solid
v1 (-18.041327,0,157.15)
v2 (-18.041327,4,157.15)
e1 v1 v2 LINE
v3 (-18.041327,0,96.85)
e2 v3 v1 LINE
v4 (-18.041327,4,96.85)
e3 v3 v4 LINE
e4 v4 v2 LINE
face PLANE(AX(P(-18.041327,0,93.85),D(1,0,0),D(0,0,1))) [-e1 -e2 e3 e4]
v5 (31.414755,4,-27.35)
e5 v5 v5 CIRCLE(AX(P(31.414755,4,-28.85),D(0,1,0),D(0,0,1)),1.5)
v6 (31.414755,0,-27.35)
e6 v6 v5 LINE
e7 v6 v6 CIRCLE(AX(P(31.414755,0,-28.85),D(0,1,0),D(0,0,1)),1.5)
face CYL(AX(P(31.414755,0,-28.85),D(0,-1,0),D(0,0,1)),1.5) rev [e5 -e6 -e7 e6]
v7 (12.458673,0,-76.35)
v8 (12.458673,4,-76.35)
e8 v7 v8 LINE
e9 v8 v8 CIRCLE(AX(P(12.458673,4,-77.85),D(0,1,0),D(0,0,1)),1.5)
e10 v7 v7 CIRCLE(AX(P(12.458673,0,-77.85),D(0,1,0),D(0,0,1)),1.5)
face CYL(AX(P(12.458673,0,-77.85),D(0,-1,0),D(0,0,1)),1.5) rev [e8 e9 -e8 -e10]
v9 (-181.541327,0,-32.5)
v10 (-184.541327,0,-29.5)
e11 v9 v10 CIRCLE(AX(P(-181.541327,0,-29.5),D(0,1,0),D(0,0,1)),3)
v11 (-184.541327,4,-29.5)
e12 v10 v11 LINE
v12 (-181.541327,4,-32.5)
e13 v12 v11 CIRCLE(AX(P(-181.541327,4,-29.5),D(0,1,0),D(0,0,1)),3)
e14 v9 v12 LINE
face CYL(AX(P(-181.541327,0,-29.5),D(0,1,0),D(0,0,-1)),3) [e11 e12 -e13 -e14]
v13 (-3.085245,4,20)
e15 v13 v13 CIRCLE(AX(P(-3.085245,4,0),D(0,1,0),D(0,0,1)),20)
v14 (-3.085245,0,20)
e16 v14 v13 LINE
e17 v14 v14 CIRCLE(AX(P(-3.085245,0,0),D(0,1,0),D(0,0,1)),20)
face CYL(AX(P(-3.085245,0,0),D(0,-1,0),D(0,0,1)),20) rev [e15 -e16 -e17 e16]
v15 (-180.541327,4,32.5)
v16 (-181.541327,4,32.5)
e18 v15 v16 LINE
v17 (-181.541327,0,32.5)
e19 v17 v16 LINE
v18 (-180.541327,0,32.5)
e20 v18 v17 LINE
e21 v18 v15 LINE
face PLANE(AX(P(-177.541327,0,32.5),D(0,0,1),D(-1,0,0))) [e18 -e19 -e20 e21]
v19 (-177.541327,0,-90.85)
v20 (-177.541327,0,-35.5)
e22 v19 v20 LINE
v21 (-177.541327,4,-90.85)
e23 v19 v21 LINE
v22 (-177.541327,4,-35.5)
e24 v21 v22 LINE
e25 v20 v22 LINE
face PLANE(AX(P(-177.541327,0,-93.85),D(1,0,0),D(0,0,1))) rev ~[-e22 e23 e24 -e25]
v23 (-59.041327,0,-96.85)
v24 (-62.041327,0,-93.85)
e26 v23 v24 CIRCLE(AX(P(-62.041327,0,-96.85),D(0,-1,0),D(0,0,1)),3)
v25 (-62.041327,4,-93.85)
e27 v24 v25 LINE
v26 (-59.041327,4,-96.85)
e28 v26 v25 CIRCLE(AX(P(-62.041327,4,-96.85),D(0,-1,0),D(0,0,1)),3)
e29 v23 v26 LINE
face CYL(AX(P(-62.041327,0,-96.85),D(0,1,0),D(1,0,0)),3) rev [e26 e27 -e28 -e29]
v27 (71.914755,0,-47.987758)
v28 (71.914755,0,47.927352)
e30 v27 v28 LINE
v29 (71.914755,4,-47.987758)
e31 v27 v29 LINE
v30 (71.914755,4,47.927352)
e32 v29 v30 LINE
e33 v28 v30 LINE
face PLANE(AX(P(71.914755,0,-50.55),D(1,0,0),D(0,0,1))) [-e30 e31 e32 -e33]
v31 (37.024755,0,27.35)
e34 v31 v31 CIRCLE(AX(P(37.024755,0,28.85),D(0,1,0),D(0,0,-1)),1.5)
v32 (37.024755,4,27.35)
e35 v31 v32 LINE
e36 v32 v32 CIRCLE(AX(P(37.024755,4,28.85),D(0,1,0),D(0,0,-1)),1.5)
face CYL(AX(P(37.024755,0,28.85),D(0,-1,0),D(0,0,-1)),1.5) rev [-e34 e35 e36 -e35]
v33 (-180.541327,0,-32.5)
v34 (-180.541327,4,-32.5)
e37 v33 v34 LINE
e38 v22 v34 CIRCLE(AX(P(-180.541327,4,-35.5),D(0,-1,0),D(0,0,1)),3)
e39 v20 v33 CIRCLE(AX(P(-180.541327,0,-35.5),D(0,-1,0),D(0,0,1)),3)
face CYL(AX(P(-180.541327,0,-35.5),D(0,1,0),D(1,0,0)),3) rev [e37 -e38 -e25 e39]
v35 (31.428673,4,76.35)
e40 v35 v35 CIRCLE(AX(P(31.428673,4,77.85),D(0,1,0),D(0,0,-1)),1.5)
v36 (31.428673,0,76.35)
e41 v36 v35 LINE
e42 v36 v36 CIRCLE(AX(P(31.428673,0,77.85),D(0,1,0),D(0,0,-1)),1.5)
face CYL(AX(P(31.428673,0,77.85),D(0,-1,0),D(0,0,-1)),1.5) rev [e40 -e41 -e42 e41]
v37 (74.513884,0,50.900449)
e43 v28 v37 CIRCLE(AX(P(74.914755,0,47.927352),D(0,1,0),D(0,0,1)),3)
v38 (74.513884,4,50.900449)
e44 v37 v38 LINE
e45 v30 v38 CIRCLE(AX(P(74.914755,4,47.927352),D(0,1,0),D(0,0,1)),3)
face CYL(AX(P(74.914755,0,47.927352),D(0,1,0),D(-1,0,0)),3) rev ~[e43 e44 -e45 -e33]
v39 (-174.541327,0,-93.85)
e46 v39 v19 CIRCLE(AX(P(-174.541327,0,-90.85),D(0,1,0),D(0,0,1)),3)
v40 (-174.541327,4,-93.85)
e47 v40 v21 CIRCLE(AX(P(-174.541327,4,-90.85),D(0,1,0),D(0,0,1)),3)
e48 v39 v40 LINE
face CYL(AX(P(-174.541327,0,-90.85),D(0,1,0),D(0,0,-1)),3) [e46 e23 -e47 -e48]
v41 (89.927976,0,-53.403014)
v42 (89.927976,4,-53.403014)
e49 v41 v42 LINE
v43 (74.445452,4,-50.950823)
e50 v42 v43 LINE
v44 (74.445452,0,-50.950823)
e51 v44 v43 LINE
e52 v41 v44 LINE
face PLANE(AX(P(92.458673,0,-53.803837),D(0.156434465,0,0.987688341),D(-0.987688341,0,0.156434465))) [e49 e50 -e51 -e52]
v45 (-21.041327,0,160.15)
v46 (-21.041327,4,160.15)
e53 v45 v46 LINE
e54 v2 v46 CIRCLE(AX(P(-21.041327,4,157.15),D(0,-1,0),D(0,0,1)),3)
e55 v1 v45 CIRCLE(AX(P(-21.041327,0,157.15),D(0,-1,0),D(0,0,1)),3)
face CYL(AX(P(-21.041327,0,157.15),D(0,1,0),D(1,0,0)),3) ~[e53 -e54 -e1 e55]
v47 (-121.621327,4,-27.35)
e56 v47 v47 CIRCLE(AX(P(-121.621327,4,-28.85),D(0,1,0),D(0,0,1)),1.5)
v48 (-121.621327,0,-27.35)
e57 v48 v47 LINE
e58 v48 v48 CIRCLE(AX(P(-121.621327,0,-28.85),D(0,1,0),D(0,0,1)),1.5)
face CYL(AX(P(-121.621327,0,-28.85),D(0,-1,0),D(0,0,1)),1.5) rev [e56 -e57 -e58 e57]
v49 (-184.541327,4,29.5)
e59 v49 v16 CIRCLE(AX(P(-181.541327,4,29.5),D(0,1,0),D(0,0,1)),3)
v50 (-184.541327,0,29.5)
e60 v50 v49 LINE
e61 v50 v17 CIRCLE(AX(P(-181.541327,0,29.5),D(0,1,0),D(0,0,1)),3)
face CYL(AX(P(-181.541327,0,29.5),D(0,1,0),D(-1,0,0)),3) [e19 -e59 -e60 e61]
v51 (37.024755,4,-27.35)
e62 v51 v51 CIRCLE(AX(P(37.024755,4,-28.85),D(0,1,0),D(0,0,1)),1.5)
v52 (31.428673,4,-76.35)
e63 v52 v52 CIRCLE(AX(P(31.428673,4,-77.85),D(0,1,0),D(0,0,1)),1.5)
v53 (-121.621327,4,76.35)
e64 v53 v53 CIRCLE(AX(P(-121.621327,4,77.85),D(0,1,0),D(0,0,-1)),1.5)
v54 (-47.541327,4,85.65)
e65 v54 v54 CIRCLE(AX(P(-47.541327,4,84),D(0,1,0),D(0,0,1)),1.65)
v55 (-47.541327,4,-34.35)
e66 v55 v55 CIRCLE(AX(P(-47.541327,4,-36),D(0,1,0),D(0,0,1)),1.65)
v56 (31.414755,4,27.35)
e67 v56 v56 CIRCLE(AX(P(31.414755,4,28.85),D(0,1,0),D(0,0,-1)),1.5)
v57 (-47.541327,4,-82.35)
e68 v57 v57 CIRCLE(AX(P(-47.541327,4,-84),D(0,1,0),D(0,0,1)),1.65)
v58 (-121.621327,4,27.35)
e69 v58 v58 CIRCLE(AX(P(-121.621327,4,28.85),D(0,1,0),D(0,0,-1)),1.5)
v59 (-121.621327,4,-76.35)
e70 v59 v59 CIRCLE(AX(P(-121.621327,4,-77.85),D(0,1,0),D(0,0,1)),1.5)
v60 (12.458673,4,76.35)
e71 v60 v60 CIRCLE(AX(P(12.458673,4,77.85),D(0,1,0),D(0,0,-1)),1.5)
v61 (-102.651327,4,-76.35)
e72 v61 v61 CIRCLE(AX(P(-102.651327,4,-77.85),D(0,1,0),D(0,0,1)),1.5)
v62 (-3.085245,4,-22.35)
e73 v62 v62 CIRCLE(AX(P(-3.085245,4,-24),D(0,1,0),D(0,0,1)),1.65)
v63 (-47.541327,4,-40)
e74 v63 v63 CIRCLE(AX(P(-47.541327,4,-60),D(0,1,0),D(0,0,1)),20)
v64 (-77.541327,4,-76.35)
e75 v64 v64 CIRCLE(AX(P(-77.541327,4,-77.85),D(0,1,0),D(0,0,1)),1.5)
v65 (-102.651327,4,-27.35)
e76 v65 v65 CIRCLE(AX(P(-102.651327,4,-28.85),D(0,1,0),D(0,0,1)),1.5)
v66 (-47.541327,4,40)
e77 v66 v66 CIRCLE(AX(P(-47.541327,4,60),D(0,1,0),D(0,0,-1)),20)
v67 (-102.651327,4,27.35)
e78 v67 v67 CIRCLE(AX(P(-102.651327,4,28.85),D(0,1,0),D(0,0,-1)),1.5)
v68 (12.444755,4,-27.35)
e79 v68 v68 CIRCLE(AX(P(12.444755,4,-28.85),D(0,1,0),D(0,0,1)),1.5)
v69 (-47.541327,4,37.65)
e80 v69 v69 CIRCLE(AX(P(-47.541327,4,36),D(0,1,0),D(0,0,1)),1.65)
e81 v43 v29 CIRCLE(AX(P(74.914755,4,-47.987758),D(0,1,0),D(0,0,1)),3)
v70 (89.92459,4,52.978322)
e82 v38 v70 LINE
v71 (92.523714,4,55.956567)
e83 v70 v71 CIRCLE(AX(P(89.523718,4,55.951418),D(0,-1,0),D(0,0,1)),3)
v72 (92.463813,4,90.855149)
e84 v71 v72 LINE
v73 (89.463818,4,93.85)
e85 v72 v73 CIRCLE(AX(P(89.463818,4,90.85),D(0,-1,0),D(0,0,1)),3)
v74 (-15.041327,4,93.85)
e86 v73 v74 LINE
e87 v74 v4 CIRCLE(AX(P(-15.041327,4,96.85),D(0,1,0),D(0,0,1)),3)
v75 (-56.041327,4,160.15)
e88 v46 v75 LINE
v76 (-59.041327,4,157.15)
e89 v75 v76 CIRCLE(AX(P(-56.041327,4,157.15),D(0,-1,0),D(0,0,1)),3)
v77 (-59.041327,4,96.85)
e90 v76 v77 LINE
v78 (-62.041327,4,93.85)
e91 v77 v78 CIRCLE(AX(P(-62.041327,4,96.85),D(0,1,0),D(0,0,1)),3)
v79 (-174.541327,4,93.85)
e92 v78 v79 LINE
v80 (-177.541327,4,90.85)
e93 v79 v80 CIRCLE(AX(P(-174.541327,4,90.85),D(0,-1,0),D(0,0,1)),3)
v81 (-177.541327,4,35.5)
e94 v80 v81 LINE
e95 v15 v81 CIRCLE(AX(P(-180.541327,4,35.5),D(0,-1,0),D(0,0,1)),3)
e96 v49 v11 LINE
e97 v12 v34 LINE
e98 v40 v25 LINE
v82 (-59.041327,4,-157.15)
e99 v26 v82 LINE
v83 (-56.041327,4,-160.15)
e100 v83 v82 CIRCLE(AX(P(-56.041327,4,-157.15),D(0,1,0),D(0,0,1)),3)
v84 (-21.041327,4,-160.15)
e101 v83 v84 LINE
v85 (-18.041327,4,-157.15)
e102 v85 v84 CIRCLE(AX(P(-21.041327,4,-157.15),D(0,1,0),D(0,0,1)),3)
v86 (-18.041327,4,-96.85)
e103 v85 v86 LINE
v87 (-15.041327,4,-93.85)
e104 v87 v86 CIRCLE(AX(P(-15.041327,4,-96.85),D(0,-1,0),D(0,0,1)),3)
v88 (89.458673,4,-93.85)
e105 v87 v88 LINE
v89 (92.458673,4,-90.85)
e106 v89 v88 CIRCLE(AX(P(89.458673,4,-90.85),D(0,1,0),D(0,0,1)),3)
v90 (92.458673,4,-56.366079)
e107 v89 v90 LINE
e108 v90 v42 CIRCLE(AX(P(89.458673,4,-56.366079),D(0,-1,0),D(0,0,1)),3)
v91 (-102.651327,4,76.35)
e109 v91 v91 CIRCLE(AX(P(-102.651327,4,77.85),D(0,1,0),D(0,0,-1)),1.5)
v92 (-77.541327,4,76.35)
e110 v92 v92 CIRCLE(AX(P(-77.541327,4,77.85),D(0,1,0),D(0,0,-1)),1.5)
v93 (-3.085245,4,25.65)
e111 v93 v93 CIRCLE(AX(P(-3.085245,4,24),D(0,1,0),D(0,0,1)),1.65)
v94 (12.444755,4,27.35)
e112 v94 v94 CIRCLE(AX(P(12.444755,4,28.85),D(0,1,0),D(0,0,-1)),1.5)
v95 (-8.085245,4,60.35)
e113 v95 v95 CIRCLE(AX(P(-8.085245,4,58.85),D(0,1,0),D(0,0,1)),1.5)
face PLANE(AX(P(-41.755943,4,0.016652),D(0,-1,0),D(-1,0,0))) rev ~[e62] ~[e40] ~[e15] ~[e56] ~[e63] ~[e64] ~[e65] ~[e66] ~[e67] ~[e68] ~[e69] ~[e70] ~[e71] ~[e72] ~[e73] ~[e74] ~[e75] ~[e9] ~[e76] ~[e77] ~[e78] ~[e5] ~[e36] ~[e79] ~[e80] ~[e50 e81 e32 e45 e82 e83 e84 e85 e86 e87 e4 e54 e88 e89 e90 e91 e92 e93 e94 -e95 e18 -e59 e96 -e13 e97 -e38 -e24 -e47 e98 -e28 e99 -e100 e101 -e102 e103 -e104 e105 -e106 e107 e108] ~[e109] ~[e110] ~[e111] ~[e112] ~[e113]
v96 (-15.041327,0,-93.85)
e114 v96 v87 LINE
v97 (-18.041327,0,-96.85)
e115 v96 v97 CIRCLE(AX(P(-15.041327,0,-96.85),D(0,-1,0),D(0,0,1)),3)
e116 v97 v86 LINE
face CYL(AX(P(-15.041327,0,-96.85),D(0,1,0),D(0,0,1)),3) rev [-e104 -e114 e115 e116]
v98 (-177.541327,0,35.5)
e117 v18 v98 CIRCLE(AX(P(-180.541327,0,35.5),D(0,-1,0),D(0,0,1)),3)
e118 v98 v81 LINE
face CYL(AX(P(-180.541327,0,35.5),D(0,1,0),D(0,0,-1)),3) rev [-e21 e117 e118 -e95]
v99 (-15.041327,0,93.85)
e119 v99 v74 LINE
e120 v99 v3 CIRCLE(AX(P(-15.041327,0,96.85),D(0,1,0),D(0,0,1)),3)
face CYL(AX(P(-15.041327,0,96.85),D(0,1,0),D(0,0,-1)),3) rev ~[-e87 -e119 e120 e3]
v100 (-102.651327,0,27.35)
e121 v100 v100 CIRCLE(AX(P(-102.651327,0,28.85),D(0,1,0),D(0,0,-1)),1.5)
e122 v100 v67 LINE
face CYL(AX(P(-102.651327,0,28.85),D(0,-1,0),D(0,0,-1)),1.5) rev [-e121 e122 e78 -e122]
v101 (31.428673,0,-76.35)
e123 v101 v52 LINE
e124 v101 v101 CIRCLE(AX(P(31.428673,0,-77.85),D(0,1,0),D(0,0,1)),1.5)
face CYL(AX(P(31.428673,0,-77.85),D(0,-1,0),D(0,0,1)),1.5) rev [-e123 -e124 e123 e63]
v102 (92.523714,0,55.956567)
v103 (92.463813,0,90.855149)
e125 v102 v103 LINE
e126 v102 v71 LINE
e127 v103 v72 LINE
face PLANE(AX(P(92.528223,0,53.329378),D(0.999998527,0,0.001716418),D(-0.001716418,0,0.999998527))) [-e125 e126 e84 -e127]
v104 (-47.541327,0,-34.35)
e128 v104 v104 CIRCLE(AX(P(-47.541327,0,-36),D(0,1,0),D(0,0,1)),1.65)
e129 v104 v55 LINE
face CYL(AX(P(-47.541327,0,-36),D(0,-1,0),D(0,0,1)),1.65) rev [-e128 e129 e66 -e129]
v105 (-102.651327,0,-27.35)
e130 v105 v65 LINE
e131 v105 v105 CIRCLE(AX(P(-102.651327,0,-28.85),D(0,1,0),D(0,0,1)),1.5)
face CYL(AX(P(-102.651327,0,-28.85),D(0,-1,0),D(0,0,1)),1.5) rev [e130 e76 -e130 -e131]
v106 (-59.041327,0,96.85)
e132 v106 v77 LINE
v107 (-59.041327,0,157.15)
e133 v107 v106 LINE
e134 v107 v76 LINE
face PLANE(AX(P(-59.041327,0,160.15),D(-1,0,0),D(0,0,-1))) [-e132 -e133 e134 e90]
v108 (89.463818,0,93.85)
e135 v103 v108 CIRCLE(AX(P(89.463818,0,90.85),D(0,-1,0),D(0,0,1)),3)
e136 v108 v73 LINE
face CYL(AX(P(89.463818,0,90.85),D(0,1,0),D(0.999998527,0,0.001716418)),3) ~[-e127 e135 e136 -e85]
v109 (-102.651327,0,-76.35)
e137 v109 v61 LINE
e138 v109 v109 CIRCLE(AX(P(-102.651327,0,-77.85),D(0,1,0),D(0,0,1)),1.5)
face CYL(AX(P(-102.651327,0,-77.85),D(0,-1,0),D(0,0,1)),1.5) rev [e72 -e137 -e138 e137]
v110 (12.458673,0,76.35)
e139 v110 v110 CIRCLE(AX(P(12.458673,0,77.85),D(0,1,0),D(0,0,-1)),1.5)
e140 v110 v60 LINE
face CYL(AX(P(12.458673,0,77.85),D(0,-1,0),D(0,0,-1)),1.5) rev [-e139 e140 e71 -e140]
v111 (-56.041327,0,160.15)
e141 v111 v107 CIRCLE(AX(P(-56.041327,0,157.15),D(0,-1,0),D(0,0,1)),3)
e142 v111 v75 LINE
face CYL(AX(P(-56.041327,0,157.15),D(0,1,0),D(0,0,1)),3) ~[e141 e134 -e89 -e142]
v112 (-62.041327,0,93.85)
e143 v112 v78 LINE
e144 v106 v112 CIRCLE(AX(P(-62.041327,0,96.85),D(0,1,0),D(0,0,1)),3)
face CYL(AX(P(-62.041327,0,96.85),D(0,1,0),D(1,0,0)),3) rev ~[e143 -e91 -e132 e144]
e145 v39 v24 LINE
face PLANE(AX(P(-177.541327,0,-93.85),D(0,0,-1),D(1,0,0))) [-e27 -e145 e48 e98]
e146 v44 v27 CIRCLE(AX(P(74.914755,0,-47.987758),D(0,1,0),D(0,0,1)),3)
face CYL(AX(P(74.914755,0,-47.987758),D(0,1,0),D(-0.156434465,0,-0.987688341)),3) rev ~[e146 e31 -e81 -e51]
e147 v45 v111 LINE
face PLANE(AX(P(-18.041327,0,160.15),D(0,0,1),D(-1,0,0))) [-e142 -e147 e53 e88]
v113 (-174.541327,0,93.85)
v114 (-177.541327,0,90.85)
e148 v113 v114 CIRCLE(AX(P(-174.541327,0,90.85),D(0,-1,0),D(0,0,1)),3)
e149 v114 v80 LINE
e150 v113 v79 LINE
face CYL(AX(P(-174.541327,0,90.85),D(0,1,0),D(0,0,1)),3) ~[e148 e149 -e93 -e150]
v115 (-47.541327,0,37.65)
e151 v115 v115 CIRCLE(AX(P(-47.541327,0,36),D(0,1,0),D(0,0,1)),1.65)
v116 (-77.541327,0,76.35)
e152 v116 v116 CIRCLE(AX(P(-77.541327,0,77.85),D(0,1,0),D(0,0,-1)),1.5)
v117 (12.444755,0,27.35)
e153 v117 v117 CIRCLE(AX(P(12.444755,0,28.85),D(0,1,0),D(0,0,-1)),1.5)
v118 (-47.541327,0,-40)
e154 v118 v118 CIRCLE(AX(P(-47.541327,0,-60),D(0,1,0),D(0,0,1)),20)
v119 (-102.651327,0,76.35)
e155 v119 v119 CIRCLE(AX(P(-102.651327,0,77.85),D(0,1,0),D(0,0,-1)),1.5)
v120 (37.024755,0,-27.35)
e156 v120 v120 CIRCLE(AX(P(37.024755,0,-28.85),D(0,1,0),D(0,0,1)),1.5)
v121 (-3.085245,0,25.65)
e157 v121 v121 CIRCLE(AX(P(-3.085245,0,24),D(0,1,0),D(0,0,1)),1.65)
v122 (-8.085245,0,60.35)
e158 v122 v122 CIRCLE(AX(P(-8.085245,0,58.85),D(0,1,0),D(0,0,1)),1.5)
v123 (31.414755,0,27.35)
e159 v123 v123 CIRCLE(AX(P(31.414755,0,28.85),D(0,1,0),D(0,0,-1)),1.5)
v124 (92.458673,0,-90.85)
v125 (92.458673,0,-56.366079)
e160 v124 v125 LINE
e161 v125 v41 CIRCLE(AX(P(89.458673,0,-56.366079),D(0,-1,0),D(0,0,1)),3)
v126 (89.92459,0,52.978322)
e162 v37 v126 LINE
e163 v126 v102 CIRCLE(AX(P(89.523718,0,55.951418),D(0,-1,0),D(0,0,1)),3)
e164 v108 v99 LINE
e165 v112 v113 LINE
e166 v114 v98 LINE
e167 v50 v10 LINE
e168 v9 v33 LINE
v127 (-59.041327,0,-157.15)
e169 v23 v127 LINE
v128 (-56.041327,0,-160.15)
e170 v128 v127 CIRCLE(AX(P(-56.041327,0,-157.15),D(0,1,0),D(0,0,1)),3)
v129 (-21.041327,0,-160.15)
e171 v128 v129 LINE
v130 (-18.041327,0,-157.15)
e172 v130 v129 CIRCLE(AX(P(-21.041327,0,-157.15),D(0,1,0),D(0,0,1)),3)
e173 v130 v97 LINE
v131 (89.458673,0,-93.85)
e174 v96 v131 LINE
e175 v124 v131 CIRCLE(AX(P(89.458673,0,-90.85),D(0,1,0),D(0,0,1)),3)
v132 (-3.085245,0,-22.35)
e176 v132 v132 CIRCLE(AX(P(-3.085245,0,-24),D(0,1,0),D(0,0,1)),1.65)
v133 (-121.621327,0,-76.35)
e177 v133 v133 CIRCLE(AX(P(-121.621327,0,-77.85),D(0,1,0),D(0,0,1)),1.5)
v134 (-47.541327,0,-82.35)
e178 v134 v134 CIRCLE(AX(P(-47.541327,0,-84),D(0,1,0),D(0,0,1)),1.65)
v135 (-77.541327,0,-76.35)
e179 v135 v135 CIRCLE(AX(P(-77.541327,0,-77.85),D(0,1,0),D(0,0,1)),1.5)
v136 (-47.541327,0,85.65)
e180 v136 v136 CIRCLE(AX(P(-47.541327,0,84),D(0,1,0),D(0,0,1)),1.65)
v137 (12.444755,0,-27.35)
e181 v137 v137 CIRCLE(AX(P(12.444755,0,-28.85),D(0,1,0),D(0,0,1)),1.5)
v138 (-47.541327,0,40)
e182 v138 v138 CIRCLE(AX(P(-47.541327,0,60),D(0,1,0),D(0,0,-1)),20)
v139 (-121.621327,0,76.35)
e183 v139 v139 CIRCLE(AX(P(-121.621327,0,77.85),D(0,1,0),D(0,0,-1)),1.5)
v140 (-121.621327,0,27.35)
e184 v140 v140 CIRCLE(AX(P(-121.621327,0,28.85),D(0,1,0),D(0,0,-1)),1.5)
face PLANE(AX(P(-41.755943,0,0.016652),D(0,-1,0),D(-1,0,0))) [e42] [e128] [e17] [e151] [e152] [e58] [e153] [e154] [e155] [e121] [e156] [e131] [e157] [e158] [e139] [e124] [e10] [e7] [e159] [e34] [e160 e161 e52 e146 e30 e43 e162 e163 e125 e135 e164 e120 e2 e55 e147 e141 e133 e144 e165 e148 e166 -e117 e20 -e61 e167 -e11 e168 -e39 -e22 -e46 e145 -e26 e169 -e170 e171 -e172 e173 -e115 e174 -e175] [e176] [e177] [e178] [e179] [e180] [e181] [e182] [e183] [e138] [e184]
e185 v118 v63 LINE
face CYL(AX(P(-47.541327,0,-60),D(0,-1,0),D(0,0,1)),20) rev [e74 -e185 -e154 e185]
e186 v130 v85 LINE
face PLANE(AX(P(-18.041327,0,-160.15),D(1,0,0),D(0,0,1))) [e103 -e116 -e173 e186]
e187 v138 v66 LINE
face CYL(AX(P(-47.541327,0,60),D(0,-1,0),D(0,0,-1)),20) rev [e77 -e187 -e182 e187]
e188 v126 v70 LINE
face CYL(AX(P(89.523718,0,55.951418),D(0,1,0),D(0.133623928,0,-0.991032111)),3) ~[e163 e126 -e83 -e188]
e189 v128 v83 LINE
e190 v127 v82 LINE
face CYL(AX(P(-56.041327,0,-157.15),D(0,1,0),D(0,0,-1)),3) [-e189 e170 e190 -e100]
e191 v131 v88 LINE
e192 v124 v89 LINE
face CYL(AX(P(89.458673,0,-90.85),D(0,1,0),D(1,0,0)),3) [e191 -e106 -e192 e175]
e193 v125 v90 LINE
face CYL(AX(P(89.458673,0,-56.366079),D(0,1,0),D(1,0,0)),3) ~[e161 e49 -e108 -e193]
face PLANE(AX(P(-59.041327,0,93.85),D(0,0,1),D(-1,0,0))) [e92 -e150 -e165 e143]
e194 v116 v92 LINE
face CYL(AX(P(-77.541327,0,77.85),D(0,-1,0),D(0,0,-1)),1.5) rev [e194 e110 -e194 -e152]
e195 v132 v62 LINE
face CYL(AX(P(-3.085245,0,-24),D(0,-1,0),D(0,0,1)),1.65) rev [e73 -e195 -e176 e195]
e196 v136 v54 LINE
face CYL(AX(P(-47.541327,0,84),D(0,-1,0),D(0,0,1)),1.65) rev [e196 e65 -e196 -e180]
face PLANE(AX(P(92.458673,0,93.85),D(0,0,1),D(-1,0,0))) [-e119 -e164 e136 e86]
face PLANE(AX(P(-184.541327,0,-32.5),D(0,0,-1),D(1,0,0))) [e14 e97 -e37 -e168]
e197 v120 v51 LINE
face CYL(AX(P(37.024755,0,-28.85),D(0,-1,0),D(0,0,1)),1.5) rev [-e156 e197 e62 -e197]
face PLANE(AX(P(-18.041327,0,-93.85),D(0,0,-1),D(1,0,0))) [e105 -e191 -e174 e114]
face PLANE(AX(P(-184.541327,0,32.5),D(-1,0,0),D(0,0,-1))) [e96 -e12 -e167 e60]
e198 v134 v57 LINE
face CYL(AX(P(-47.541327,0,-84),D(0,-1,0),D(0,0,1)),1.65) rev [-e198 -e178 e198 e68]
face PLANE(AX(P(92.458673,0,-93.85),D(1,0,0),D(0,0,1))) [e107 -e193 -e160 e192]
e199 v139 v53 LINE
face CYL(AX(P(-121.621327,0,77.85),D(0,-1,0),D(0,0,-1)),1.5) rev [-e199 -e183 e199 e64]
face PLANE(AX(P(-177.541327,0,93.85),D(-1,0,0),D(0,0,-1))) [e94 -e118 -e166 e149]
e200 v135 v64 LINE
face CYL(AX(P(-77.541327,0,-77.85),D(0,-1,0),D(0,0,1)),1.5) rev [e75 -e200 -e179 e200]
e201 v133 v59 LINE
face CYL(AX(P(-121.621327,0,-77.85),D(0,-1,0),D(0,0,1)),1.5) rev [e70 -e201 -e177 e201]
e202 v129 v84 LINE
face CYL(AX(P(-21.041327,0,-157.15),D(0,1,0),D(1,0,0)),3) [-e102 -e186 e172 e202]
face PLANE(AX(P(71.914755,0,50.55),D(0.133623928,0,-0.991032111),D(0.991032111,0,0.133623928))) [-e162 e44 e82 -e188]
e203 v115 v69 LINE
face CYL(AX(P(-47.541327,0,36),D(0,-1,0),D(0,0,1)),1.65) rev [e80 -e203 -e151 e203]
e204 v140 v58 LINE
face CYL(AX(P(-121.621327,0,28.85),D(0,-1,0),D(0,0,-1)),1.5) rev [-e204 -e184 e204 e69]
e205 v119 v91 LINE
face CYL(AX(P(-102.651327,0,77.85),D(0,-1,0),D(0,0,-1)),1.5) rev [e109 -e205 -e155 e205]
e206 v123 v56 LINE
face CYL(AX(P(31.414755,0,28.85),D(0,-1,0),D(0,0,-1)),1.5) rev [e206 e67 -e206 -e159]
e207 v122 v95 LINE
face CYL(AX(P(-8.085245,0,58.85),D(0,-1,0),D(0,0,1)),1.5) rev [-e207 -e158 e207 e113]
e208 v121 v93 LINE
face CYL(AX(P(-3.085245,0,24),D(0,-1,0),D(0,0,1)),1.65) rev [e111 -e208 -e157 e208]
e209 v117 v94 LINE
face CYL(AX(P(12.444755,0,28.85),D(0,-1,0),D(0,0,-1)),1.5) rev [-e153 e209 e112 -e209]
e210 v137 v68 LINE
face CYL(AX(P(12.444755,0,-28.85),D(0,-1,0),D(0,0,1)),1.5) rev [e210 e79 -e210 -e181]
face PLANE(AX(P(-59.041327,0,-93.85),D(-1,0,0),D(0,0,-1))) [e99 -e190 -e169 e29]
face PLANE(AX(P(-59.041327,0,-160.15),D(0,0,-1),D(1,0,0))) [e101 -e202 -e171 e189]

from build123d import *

# Parameters (mm, degrees)
SKETCH1_R           = 20
SKETCH1_R_2         = 1.5
SKETCH1_R_3         = 1.65
BOSS_EXTRUDE2_DEPTH = 4
FILLET1_R           = 3


with BuildPart() as part:
    # Sketch1 → Boss-Extrude2 (new body)
    with BuildSketch(Plane(origin=(0, 0, 0), x_dir=(1, 0, 0), z_dir=(0, 1, 0))):
        Polygon((92.45867298, 93.85), (92.45867298, 53.803836873), (71.914755495, 50.55), (71.914755495, -50.55), (92.528223413, -53.3293777), (92.45867298, -93.85), (-18.04132702, -93.85), (-18.04132702, -160.15), (-59.04132702, -160.15), (-59.04132702, -93.85), (-177.54132702, -93.85), (-177.54132702, -32.5), (-184.54132702, -32.5), (-184.54132702, 32.5), (-177.54132702, 32.5), (-177.54132702, 34.274594508), (-177.54132702, 93.85), (-59.04132702, 93.85), (-59.04132702, 160.15), (-18.04132702, 160.15), (-18.04132702, 93.85), align=None)
        with Locations(Location((-47.54132702, 60, 0), (0, 0, 270))):
            Circle(SKETCH1_R, mode=Mode.SUBTRACT)
        with Locations(Location((-3.085244505, 0, 0), (0, 0, 270))):
            Circle(SKETCH1_R, mode=Mode.SUBTRACT)
        with Locations(Location((-47.54132702, -60, 0), (0, 0, 90))):
            Circle(SKETCH1_R, mode=Mode.SUBTRACT)
        with Locations(Location((-77.54132702, 77.85, 0), (0, 0, 270))):
            Circle(SKETCH1_R_2, mode=Mode.SUBTRACT)
        with Locations(Location((-121.62132702, 28.85, 0), (0, 0, 270))):
            Circle(SKETCH1_R_2, mode=Mode.SUBTRACT)
        with Locations(Location((-102.65132702, 28.85, 0), (0, 0, 270))):
            Circle(SKETCH1_R_2, mode=Mode.SUBTRACT)
        with Locations(Location((-121.62132702, -28.85, 0), (0, 0, 90))):
            Circle(SKETCH1_R_2, mode=Mode.SUBTRACT)
        with Locations(Location((-102.65132702, -28.85, 0), (0, 0, 90))):
            Circle(SKETCH1_R_2, mode=Mode.SUBTRACT)
        with Locations(Location((-77.54132702, -77.85, 0), (0, 0, 90))):
            Circle(SKETCH1_R_2, mode=Mode.SUBTRACT)
        with Locations(Location((37.024755495, 28.85, 0), (0, 0, 270))):
            Circle(SKETCH1_R_2, mode=Mode.SUBTRACT)
        with Locations(Location((12.45867298, 77.85, 0), (0, 0, 270))):
            Circle(SKETCH1_R_2, mode=Mode.SUBTRACT)
        with Locations(Location((-8.085244505, -58.85, 0), (0, 0, 270))):
            Circle(SKETCH1_R_2, mode=Mode.SUBTRACT)
        with Locations(Location((12.45867298, -77.85, 0), (0, 0, 90))):
            Circle(SKETCH1_R_2, mode=Mode.SUBTRACT)
        with Locations(Location((37.024755495, -28.85, 0), (0, 0, 90))):
            Circle(SKETCH1_R_2, mode=Mode.SUBTRACT)
        with Locations(Location((-121.62132702, -77.85, 0), (0, 0, 90))):
            Circle(SKETCH1_R_2, mode=Mode.SUBTRACT)
        with Locations(Location((-102.65132702, -77.85, 0), (0, 0, 90))):
            Circle(SKETCH1_R_2, mode=Mode.SUBTRACT)
        with Locations(Location((31.42867298, -77.85, 0), (0, 0, 90))):
            Circle(SKETCH1_R_2, mode=Mode.SUBTRACT)
        with Locations(Location((12.444755495, -28.85, 0), (0, 0, 90))):
            Circle(SKETCH1_R_2, mode=Mode.SUBTRACT)
        with Locations(Location((31.414755495, -28.85, 0), (0, 0, 90))):
            Circle(SKETCH1_R_2, mode=Mode.SUBTRACT)
        with Locations(Location((-121.62132702, 77.85, 0), (0, 0, 270))):
            Circle(SKETCH1_R_2, mode=Mode.SUBTRACT)
        with Locations(Location((-102.65132702, 77.85, 0), (0, 0, 270))):
            Circle(SKETCH1_R_2, mode=Mode.SUBTRACT)
        with Locations(Location((31.414755495, 28.85, 0), (0, 0, 270))):
            Circle(SKETCH1_R_2, mode=Mode.SUBTRACT)
        with Locations(Location((12.444755495, 28.85, 0), (0, 0, 270))):
            Circle(SKETCH1_R_2, mode=Mode.SUBTRACT)
        with Locations(Location((31.42867298, 77.85, 0), (0, 0, 270))):
            Circle(SKETCH1_R_2, mode=Mode.SUBTRACT)
        with Locations(Location((-47.54132702, -84, 0), (0, 0, 270))):
            Circle(SKETCH1_R_3, mode=Mode.SUBTRACT)
        with Locations(Location((-47.54132702, -36, 0), (0, 0, 270))):
            Circle(SKETCH1_R_3, mode=Mode.SUBTRACT)
        with Locations(Location((-3.085244505, -24, 0), (0, 0, 270))):
            Circle(SKETCH1_R_3, mode=Mode.SUBTRACT)
        with Locations(Location((-3.085244505, 24, 0), (0, 0, 270))):
            Circle(SKETCH1_R_3, mode=Mode.SUBTRACT)
        with Locations(Location((-47.54132702, 36, 0), (0, 0, 270))):
            Circle(SKETCH1_R_3, mode=Mode.SUBTRACT)
        with Locations(Location((-47.54132702, 84, 0), (0, 0, 270))):
            Circle(SKETCH1_R_3, mode=Mode.SUBTRACT)
    extrude(amount=BOSS_EXTRUDE2_DEPTH)

    # Fillet1
    fillet1_edges = [part.edges().sort_by_distance(p)[0] for p in [
        (-177.54132702, 2, -93.85),
        (-59.04132702, 2, -93.85),
        (-59.04132702, 2, -160.15),
        (-18.04132702, 2, -160.15),
        (-18.04132702, 2, -93.85),
        (92.45867298, 2, -93.85),
        (92.45867298, 2, -53.803836873),
        (71.914755495, 2, -50.55),
        (71.914755495, 2, 50.55),
        (92.528223413, 2, 53.3293777),
        (92.45867298, 2, 93.85),
        (-18.04132702, 2, 93.85),
        (-18.04132702, 2, 160.15),
        (-59.04132702, 2, 160.15),
        (-59.04132702, 2, 93.85),
        (-177.54132702, 2, 93.85),
        (-177.54132702, 2, 32.5),
        (-184.54132702, 2, 32.5),
        (-184.54132702, 2, -32.5),
        (-177.54132702, 2, -32.5),
    ]]
    fillet(fillet1_edges, radius=FILLET1_R)


solid = part.part
